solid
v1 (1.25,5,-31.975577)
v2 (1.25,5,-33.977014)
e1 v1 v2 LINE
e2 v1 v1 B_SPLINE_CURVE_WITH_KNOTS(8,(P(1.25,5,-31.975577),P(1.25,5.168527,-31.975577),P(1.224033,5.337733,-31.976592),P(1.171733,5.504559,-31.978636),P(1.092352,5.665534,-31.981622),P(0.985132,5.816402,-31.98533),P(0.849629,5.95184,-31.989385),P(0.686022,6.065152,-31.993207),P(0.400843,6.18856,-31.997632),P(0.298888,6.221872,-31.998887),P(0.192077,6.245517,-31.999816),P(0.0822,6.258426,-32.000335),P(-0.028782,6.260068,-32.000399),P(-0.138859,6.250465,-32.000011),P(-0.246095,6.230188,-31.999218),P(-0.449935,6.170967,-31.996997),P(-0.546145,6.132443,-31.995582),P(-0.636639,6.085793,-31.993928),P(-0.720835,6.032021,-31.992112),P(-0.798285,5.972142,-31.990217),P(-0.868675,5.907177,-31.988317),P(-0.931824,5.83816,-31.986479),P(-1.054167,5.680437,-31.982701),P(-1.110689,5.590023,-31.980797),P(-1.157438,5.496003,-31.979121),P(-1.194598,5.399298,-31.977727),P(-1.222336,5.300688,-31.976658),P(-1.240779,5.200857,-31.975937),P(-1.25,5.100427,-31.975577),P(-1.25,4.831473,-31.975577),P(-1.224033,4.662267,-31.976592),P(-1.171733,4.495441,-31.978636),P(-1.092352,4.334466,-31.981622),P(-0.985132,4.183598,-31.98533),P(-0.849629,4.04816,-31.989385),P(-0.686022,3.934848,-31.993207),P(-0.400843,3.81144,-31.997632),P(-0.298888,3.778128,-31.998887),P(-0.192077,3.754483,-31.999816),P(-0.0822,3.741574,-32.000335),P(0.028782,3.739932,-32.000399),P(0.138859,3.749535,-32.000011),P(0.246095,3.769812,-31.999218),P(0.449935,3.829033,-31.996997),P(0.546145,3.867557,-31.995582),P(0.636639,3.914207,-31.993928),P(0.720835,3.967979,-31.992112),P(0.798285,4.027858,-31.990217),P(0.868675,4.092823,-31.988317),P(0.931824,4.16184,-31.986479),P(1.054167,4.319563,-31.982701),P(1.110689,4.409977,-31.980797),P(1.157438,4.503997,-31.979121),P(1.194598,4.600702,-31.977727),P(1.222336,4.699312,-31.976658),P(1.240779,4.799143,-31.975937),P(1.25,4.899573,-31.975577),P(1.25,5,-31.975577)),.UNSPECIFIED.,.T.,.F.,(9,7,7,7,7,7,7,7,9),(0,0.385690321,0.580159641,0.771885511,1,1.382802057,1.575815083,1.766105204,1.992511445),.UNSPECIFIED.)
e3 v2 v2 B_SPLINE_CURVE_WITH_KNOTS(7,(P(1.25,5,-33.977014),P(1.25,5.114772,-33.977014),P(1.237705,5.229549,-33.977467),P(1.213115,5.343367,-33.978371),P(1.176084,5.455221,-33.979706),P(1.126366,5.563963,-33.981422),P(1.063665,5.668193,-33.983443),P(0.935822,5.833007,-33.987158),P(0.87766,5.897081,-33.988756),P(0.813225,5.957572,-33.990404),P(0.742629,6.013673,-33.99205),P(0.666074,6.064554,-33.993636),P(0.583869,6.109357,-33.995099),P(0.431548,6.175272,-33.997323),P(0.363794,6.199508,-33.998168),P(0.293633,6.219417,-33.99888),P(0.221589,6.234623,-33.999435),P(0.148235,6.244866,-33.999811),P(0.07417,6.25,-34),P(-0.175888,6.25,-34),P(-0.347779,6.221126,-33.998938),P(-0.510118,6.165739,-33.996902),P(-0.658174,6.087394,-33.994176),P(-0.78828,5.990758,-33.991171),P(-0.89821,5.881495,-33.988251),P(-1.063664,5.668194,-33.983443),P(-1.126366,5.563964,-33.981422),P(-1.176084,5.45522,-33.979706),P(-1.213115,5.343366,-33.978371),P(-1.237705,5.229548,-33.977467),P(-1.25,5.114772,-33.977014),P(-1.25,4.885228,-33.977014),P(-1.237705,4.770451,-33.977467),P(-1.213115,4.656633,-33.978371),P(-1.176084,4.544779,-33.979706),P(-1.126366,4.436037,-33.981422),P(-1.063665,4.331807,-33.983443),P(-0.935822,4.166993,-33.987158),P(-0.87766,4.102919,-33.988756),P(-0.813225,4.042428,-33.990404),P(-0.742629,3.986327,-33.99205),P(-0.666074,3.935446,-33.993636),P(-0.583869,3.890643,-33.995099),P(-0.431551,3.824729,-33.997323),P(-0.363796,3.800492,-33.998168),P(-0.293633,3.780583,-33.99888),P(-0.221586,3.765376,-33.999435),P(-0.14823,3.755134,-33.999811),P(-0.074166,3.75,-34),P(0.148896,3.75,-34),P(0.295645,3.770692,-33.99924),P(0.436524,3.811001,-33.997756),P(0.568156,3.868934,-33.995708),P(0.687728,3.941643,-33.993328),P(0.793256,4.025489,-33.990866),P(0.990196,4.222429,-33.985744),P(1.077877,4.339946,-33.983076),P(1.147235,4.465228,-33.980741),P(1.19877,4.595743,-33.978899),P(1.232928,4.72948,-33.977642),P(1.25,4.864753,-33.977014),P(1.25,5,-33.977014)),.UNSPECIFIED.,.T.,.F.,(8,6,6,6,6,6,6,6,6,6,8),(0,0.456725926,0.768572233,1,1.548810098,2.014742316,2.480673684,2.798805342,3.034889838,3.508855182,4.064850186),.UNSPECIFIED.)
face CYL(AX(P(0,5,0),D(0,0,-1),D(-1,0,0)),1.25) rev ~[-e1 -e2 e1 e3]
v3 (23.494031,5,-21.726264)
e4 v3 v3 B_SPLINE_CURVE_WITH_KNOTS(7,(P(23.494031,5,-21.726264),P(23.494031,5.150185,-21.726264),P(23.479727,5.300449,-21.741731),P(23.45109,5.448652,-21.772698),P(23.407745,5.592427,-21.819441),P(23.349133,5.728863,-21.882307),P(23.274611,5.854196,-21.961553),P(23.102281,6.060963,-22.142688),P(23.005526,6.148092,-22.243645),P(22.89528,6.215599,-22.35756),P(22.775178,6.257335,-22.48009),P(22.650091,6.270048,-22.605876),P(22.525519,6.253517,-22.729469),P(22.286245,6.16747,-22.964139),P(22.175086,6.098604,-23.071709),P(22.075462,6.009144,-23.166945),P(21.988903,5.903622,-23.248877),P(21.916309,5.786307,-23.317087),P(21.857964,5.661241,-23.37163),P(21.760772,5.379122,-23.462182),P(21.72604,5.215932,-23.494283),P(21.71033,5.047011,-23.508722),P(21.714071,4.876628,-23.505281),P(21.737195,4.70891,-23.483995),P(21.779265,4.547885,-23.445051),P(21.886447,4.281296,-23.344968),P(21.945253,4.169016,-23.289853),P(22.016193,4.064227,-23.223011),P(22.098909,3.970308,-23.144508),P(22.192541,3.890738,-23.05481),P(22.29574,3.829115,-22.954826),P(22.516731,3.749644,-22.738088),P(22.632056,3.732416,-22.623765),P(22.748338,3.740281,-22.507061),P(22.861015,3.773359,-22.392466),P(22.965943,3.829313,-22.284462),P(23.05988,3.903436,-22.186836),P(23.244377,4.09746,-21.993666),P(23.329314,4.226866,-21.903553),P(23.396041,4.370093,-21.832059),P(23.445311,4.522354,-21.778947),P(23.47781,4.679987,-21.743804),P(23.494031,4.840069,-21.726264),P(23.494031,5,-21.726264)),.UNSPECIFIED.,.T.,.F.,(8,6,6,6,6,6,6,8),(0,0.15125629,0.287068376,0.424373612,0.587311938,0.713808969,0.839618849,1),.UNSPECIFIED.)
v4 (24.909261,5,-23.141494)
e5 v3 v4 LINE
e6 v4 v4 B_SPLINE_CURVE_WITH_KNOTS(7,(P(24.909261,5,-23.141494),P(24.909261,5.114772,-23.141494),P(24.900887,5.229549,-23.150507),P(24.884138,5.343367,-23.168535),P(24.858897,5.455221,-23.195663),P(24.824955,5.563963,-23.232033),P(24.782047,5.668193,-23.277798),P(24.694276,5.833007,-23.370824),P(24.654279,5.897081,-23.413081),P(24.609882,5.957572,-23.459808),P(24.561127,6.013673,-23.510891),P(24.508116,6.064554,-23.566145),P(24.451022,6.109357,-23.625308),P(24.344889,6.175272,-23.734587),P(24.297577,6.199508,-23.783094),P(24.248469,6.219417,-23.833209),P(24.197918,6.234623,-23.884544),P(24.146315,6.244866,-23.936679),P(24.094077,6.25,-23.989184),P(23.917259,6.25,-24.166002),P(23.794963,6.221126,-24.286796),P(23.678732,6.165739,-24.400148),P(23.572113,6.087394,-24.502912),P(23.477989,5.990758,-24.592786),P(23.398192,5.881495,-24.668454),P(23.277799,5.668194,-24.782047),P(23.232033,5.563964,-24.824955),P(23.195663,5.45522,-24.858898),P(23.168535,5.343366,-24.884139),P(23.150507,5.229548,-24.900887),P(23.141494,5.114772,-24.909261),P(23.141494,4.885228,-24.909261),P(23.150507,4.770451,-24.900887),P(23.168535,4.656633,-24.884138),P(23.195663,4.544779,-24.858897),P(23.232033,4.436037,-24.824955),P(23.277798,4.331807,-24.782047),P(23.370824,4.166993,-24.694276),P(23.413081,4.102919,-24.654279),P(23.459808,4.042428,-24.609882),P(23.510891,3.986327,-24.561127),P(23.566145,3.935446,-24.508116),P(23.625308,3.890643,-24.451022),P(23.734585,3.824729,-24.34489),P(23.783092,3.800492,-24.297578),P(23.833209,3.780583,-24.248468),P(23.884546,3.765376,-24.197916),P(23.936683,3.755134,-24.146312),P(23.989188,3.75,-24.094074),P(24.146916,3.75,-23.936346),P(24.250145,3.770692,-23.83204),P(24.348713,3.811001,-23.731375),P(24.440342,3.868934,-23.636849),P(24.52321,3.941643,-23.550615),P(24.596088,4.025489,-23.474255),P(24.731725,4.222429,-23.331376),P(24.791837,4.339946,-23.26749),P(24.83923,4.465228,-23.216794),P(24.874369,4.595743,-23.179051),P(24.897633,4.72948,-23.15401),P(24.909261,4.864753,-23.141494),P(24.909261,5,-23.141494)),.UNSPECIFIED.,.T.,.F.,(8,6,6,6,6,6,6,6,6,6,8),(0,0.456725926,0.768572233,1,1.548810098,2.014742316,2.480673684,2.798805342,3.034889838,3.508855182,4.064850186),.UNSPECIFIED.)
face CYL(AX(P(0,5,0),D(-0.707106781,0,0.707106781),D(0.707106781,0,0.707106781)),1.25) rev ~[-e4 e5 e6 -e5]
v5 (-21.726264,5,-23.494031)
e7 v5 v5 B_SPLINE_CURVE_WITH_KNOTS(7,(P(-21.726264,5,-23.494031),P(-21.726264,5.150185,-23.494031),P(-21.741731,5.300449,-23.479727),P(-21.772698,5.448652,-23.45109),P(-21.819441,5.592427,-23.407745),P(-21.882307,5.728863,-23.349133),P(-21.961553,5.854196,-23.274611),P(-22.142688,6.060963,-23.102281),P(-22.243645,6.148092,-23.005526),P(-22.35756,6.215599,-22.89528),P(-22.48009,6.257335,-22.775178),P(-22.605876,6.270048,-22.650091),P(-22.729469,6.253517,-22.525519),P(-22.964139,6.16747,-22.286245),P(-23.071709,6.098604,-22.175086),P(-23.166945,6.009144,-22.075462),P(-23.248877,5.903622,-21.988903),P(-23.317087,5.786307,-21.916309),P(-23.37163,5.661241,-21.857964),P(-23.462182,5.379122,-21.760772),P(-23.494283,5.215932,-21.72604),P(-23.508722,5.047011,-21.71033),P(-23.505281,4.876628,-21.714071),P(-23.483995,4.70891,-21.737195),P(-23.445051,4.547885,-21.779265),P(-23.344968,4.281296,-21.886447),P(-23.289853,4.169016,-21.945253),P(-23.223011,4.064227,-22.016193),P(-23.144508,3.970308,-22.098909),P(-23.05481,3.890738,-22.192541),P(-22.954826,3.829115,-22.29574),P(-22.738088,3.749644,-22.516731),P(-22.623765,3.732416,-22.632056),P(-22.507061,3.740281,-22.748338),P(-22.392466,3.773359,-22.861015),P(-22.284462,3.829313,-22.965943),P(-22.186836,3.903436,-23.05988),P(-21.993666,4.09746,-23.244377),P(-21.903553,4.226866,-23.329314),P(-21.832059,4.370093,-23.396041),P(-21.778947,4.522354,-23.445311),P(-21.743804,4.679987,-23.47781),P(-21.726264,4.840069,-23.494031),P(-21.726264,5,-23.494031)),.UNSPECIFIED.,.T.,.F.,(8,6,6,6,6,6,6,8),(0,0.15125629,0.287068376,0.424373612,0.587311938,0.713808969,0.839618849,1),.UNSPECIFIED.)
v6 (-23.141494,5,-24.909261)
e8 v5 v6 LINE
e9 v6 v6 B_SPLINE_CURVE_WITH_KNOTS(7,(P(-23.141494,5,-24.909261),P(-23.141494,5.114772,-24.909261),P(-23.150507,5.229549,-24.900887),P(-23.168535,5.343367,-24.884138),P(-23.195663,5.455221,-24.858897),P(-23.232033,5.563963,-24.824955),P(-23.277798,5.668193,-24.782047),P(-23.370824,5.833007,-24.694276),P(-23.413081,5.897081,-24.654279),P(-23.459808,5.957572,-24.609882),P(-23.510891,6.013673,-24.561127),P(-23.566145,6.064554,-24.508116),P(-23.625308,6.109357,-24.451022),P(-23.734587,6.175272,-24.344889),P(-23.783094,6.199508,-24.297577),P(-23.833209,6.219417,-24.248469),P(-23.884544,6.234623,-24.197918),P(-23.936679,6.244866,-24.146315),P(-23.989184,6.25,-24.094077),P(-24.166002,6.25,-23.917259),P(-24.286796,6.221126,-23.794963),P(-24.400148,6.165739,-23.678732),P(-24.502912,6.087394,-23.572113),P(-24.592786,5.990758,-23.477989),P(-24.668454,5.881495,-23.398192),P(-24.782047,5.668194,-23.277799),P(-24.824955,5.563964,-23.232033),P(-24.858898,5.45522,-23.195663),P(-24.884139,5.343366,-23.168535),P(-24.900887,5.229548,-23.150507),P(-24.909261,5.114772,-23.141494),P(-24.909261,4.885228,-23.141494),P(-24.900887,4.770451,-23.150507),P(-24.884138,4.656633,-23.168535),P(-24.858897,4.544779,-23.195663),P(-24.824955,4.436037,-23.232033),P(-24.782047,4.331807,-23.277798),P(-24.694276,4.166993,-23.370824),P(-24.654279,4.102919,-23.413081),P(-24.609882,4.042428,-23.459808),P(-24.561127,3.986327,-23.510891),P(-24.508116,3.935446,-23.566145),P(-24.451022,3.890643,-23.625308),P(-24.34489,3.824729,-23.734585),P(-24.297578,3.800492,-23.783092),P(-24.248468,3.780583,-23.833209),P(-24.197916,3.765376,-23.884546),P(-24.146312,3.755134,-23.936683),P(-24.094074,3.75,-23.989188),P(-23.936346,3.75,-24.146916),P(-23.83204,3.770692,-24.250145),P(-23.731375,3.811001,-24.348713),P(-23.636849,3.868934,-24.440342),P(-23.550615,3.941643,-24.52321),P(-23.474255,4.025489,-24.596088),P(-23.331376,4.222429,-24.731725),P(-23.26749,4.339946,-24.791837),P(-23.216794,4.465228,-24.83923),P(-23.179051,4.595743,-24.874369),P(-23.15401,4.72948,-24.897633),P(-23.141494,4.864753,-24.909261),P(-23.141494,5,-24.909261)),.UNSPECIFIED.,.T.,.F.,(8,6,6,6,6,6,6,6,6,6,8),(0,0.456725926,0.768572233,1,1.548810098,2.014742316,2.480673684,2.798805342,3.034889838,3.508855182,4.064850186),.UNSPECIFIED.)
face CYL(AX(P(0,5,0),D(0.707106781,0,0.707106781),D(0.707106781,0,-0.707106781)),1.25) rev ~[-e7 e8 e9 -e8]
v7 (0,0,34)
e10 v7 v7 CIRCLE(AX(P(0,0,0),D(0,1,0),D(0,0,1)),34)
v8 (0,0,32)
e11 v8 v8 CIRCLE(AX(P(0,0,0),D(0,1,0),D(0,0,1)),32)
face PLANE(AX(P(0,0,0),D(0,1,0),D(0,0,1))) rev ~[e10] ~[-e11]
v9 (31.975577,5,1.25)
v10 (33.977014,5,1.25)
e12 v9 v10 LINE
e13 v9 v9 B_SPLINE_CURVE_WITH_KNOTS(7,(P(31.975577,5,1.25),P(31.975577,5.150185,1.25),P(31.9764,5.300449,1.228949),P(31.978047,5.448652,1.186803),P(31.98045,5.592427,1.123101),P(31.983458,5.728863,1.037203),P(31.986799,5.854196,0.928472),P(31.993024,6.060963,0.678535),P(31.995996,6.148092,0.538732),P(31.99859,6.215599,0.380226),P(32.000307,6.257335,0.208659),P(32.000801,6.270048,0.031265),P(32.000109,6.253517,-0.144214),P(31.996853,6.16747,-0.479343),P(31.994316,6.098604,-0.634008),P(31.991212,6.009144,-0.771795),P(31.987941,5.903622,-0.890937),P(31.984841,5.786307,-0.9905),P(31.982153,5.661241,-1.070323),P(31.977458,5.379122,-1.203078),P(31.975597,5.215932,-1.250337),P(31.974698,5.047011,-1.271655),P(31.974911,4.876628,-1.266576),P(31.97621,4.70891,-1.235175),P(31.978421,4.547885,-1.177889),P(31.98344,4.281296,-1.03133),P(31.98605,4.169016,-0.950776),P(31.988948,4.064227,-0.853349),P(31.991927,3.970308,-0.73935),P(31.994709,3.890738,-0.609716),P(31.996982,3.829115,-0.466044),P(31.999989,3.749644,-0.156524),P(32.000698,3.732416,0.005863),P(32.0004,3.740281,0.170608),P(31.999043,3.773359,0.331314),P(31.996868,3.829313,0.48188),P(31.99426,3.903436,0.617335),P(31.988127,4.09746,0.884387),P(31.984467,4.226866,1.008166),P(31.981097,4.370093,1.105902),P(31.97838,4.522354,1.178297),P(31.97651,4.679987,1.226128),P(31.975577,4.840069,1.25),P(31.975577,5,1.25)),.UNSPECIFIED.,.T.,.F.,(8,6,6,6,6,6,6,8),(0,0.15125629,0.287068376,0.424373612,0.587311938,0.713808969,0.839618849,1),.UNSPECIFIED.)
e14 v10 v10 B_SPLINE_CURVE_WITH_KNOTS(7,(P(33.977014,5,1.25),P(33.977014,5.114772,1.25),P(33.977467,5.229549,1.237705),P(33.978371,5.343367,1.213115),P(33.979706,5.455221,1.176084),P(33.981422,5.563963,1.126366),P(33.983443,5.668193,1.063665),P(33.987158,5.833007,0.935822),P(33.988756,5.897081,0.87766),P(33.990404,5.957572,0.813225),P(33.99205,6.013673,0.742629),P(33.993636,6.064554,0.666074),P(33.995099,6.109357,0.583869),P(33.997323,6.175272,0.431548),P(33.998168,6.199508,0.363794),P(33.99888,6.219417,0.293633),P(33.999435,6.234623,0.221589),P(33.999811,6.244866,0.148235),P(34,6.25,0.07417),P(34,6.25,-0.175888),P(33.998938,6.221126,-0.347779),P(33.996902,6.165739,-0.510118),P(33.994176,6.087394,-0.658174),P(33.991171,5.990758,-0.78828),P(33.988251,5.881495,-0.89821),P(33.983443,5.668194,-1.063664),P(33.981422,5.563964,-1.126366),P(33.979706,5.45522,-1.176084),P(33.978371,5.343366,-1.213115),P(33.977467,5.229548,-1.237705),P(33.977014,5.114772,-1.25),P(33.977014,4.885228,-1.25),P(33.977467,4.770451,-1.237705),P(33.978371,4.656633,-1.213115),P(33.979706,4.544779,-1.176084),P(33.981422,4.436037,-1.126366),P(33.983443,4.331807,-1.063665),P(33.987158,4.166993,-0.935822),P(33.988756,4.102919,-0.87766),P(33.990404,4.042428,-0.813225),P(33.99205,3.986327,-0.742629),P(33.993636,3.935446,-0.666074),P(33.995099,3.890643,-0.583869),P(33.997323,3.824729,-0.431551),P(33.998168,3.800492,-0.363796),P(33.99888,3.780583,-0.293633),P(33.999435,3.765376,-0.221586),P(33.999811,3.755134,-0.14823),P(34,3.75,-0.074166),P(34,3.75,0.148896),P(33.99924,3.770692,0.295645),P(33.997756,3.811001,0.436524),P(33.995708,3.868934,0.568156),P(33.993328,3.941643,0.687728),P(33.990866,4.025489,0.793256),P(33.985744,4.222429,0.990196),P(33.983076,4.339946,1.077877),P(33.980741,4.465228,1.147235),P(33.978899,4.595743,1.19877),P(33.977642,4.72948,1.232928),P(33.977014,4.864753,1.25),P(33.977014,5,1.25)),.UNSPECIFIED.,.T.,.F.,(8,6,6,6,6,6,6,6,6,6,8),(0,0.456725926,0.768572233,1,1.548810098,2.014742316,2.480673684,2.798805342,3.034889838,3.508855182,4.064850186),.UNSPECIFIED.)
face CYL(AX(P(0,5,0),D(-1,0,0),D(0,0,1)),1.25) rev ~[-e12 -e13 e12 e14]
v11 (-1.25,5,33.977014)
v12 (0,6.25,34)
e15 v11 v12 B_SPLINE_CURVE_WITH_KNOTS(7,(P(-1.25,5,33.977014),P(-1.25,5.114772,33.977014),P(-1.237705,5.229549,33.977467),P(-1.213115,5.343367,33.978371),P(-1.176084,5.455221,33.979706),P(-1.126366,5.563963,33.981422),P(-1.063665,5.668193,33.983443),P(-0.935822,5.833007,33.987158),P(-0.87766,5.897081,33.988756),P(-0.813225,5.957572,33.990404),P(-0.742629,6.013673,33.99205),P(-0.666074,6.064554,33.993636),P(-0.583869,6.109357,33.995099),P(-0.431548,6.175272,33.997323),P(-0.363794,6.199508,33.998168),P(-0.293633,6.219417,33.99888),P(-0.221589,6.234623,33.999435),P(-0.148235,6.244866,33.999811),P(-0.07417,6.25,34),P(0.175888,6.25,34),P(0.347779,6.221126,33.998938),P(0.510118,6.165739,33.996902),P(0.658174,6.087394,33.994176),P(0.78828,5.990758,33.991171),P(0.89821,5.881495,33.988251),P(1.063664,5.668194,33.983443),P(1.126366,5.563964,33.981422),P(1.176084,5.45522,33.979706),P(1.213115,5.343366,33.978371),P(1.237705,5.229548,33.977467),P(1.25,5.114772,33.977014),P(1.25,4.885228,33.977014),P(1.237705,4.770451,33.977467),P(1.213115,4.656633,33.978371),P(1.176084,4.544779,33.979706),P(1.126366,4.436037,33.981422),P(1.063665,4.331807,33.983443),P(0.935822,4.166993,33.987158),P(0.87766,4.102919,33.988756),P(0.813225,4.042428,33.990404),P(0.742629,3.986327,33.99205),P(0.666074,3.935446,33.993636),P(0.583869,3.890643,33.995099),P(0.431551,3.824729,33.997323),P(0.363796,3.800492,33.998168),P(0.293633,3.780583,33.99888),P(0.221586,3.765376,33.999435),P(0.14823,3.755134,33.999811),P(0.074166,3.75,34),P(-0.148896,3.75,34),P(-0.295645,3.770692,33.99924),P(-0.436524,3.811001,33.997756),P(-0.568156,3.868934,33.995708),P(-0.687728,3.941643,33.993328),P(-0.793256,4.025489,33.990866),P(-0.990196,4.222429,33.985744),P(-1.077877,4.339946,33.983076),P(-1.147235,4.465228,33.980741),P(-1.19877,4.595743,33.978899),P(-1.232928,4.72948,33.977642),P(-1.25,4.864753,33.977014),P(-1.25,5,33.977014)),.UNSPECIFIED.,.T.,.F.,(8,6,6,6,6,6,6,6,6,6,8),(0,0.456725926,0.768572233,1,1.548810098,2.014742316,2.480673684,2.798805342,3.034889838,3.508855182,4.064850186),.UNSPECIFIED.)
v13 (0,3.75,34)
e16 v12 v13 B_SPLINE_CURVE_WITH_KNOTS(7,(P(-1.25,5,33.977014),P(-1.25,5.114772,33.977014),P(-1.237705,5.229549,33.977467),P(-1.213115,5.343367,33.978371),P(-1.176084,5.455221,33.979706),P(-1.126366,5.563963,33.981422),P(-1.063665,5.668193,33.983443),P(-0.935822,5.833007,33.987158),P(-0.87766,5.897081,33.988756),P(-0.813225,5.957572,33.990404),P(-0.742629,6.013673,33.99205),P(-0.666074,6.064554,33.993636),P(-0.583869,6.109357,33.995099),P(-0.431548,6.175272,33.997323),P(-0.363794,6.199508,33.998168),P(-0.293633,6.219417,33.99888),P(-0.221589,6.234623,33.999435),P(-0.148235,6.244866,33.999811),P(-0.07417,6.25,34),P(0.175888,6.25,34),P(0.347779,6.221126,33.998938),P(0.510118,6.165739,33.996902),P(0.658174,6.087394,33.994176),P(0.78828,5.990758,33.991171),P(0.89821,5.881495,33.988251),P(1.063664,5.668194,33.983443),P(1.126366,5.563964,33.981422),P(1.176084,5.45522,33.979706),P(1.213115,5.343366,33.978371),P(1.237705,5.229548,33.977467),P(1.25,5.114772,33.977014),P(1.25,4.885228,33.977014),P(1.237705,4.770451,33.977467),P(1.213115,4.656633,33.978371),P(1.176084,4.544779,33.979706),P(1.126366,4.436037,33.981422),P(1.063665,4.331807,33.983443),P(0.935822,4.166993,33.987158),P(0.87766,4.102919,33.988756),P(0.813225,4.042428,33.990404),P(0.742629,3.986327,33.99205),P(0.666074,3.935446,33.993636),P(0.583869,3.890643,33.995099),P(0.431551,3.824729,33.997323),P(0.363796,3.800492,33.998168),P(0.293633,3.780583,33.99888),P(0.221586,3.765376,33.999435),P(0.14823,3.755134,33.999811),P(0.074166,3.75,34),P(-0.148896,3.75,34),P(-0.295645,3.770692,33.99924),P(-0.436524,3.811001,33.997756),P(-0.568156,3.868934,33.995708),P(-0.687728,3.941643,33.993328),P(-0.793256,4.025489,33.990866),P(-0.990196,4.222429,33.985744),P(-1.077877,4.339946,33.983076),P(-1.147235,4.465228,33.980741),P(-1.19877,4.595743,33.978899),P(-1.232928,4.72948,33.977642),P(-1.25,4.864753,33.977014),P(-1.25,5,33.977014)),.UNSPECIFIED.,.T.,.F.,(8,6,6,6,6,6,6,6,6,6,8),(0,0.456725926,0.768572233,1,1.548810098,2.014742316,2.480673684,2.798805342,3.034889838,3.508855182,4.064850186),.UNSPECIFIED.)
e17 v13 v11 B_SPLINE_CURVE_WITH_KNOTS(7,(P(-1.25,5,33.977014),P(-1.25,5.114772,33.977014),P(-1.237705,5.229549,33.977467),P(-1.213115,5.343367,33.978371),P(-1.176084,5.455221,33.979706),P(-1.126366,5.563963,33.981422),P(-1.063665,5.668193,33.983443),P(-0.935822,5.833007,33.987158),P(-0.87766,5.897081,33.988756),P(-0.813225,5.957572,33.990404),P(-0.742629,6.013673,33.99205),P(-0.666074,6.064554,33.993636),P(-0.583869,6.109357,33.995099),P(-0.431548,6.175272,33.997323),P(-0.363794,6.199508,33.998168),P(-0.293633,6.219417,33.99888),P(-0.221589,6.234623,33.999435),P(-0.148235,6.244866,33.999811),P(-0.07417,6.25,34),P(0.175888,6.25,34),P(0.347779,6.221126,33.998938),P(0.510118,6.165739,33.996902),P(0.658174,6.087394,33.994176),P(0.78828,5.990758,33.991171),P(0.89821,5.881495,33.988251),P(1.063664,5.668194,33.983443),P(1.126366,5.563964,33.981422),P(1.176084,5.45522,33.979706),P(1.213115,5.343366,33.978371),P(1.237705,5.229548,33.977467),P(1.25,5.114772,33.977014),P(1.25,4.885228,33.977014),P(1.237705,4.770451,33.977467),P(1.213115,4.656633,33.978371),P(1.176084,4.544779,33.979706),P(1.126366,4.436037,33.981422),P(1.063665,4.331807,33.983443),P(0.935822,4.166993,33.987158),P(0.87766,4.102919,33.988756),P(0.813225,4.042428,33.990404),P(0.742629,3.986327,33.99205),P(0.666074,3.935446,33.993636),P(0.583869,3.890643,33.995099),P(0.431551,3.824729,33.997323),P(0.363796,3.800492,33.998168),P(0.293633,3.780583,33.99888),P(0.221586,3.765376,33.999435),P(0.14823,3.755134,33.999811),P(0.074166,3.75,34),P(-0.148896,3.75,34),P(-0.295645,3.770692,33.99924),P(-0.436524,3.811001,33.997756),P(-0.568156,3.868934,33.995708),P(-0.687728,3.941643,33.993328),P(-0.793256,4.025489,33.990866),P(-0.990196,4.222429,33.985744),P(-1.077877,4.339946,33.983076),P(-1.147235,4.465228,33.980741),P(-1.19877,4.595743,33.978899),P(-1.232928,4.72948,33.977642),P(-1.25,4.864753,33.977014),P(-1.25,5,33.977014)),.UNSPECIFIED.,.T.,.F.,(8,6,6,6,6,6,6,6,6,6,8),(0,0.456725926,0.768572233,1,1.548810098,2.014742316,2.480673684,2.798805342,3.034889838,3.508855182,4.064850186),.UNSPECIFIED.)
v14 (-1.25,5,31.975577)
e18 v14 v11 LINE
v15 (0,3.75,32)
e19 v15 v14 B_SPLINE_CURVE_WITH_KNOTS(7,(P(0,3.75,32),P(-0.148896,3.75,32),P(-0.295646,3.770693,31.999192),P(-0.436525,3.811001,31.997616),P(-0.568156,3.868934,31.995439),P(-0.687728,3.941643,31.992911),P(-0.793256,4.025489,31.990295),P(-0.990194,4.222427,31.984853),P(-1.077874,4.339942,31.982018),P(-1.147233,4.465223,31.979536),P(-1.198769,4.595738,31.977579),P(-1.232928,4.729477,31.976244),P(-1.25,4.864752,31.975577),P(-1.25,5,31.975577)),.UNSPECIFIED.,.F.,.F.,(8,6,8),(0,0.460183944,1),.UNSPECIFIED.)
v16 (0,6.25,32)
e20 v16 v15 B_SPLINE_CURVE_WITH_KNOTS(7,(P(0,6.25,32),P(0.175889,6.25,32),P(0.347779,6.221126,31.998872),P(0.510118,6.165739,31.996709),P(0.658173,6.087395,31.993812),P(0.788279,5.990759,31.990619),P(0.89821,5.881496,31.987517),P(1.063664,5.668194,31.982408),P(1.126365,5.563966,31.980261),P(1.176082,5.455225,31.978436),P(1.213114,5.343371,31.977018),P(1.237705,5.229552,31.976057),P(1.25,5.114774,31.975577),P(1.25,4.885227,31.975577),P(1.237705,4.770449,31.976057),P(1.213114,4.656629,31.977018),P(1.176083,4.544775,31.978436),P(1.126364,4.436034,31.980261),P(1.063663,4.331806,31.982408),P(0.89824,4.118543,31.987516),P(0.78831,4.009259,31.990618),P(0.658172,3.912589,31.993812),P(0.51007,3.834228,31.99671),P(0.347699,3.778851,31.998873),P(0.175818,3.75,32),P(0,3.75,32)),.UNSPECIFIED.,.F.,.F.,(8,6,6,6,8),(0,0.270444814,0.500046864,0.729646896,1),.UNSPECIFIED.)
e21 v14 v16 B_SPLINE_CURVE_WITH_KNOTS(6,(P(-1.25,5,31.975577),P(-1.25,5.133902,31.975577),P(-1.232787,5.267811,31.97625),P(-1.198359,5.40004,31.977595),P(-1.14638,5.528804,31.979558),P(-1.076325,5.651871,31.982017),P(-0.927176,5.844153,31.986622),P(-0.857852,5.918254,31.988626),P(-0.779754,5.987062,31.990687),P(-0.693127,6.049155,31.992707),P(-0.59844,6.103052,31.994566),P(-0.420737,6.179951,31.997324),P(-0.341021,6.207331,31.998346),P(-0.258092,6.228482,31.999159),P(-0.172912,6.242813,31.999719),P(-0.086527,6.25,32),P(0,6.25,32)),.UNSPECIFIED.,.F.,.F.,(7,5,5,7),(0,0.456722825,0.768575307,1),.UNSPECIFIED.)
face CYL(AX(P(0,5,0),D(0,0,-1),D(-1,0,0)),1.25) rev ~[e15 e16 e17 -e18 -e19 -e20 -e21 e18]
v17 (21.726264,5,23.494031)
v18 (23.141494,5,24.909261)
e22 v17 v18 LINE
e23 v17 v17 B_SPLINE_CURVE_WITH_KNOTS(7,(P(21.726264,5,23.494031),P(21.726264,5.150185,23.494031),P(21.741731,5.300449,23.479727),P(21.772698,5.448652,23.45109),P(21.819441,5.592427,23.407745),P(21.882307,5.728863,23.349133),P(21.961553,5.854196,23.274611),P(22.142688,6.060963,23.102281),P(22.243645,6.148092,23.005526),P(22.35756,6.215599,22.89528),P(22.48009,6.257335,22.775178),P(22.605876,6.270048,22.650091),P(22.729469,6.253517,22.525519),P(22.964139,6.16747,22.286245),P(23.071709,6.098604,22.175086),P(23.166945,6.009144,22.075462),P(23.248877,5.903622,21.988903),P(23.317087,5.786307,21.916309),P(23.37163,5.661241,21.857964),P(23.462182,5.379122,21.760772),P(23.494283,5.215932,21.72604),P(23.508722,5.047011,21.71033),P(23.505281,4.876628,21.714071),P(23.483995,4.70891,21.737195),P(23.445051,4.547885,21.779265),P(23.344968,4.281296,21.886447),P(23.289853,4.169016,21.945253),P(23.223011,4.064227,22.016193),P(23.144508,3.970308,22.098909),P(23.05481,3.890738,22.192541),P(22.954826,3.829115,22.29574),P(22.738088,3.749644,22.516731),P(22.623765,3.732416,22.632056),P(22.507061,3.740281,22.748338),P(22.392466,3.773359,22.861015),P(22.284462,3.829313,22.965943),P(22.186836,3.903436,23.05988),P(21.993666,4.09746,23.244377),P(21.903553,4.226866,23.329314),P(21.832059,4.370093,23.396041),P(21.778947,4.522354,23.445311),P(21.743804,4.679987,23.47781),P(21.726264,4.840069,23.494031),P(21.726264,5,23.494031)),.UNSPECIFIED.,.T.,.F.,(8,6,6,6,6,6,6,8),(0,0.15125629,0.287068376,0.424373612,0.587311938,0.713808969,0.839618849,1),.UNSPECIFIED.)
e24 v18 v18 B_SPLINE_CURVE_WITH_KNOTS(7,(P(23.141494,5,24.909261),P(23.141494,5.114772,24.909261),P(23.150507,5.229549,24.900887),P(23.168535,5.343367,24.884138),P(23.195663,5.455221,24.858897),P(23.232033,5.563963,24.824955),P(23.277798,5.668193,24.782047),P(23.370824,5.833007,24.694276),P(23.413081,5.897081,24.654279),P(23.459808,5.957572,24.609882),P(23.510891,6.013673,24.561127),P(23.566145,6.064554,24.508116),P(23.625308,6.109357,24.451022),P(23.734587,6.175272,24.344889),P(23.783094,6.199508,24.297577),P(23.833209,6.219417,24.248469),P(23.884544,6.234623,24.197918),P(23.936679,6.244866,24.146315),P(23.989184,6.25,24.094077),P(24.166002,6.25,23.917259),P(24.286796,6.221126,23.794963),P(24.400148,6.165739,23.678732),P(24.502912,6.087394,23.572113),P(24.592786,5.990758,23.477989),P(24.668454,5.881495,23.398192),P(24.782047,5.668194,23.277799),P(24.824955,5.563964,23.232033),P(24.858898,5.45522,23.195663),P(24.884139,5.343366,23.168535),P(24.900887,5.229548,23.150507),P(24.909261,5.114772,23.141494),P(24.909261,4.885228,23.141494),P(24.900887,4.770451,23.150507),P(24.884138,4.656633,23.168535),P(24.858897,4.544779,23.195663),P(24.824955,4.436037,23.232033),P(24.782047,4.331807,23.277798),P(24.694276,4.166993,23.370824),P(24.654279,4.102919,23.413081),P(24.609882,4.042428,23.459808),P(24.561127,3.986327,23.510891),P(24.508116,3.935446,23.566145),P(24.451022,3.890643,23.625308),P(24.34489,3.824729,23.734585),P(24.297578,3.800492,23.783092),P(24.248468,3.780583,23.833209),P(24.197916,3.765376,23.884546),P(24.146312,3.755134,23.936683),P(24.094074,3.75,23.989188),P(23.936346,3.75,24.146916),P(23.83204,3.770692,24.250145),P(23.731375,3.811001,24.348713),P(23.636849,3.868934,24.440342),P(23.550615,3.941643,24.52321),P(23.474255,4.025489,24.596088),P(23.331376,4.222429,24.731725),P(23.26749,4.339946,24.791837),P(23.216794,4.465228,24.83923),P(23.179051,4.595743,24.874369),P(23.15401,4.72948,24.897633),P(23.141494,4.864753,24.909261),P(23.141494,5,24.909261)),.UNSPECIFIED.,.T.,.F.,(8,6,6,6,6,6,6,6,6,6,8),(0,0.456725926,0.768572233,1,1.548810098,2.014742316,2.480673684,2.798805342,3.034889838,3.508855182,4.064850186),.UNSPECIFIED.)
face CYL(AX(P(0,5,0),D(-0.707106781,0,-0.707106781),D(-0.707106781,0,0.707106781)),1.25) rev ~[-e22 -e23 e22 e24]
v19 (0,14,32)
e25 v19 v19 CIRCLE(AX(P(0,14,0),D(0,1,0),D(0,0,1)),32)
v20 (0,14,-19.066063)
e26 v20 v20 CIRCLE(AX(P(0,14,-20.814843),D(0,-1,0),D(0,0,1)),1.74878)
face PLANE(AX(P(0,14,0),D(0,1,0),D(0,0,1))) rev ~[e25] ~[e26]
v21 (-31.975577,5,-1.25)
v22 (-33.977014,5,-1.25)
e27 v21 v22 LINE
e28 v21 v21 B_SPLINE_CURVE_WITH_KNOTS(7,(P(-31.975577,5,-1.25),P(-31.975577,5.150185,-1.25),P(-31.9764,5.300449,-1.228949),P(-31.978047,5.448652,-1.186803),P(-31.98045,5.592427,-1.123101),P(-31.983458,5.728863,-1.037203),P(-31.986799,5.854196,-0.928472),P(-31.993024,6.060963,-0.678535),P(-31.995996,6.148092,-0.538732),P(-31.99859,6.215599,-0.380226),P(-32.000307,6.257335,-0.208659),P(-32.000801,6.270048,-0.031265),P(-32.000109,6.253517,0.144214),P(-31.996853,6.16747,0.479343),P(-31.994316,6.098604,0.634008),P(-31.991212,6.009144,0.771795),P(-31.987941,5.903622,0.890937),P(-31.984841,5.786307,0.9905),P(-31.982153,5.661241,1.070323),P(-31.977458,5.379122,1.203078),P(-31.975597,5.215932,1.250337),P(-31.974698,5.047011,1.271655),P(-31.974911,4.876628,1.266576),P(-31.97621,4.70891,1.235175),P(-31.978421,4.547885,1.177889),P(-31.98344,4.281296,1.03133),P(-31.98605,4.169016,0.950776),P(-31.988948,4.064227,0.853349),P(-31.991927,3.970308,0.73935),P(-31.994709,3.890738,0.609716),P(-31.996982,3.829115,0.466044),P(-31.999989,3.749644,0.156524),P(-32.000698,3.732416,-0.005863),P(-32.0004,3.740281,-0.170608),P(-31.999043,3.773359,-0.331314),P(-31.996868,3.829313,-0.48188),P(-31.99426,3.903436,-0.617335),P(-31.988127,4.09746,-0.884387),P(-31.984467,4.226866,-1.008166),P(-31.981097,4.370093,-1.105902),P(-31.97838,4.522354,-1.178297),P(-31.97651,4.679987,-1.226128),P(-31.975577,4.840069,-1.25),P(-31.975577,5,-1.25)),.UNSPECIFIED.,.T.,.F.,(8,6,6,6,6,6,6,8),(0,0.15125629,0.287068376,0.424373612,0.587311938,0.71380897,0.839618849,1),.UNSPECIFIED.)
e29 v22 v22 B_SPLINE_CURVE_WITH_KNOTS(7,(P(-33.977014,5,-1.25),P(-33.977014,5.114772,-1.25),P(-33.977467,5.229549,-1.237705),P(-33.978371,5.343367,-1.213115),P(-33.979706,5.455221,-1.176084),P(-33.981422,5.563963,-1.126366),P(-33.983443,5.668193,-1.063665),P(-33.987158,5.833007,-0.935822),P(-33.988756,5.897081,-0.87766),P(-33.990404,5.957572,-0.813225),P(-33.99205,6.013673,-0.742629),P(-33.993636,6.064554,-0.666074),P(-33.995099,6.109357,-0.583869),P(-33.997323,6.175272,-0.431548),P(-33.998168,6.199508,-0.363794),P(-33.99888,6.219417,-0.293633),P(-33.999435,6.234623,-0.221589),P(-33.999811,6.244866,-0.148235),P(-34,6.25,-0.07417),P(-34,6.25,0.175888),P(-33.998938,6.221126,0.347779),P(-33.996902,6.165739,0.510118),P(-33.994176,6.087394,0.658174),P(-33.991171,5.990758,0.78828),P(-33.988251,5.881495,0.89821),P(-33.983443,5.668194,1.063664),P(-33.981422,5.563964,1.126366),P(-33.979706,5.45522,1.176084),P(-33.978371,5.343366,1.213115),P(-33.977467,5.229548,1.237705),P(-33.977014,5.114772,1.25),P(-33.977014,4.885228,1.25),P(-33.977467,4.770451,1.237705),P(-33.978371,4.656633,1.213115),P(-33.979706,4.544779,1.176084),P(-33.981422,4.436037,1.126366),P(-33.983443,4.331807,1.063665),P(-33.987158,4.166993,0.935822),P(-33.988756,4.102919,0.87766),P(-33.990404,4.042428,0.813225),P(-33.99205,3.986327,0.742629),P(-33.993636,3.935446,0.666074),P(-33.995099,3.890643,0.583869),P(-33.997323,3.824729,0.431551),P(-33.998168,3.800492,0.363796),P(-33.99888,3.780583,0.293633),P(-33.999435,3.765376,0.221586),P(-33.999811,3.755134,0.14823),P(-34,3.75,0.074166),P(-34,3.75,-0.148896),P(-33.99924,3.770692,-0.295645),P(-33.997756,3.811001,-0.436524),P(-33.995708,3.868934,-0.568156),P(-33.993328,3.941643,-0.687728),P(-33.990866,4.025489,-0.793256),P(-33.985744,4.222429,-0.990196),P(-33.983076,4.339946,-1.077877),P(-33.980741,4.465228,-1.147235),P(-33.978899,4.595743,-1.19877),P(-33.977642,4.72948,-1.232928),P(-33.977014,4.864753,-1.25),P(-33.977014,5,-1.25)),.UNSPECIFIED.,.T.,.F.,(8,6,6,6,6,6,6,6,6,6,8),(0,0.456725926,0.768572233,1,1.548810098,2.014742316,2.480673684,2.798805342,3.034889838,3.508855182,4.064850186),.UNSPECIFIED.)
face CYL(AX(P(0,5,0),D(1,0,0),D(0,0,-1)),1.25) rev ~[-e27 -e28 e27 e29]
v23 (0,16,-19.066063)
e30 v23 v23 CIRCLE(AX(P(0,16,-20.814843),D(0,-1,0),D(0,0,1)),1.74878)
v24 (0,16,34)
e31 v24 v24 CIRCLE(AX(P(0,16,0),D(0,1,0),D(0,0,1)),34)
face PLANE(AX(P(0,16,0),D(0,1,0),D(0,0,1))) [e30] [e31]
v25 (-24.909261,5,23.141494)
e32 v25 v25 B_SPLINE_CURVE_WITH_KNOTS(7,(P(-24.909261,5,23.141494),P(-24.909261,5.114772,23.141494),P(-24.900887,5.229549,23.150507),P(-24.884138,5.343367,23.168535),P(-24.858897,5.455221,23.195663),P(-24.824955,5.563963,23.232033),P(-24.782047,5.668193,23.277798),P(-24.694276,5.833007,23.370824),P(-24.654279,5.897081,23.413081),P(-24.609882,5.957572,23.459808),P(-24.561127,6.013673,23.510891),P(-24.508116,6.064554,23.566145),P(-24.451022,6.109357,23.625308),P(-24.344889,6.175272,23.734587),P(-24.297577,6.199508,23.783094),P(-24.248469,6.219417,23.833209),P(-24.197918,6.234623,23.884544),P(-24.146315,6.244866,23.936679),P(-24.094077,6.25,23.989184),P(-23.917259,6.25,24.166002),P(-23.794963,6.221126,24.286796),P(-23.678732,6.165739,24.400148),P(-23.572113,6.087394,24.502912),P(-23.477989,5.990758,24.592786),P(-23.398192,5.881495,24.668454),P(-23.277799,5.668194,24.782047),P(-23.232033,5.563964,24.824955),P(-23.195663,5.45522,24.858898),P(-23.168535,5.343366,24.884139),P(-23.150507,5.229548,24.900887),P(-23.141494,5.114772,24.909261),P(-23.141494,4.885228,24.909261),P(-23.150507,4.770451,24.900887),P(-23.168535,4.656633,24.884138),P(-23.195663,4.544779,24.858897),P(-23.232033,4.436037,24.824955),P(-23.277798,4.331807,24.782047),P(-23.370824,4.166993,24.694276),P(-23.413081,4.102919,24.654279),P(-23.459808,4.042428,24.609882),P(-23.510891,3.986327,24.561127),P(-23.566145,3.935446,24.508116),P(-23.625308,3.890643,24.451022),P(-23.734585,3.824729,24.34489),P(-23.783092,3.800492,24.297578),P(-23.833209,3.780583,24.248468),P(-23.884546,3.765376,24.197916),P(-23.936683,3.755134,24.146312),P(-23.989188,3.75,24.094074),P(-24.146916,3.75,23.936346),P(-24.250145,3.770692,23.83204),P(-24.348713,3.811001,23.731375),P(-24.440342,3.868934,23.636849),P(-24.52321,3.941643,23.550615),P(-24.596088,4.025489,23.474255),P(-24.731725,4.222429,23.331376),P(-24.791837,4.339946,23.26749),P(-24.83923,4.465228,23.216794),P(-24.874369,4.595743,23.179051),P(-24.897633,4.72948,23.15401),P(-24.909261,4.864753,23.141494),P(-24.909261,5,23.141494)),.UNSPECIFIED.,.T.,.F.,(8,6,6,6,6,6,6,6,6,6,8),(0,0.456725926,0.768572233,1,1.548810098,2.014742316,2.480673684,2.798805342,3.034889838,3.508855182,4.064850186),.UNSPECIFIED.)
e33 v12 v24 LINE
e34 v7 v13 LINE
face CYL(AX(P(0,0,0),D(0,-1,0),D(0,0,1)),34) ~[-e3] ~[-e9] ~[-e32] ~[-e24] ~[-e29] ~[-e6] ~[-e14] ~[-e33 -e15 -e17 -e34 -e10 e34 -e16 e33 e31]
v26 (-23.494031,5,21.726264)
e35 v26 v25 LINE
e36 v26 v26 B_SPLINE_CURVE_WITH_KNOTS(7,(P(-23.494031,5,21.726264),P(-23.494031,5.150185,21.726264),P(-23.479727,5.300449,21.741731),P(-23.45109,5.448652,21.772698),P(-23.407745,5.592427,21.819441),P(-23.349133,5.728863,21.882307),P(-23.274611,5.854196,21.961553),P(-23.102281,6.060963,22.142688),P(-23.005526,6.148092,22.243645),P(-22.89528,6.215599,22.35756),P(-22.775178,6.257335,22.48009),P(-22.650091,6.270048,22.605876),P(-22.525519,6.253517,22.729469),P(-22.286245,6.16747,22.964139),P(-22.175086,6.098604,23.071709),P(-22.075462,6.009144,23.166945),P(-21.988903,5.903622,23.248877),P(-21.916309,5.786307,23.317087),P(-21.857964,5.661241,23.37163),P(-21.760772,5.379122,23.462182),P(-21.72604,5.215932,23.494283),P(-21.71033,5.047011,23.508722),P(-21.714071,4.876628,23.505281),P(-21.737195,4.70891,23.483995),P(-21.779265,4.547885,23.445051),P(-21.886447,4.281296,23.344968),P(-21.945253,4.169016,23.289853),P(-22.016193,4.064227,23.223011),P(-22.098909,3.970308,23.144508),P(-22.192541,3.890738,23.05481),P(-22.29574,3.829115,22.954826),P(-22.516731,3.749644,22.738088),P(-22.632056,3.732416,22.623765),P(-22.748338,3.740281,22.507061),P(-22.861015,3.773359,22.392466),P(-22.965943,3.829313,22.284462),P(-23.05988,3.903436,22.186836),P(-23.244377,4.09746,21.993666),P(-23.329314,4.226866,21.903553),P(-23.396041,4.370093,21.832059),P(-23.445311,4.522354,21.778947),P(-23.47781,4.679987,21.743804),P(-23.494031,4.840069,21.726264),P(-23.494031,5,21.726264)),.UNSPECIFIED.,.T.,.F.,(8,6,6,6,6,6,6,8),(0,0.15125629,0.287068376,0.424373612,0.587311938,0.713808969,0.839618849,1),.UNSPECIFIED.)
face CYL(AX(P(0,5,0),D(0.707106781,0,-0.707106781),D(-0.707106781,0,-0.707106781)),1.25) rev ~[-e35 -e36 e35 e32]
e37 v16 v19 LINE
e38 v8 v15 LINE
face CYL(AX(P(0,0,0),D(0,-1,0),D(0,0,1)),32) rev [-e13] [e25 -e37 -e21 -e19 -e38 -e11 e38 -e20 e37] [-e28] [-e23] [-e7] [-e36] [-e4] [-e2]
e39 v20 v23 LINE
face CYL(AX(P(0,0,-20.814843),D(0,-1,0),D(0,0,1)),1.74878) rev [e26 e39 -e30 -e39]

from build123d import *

# Parameters (mm, degrees)
SKETCH_1_R               = 34
EXTRUDE_1_DEPTH          = 16
CUT_EXTRUDE_1_REACH      = 52.675
CUT_EXTRUDE_1_END_RADIUS = 34
SKETCH_2_R               = 1.25
PATTERN_CIRCULAR_1_COUNT = 8
SKETCH_3_R               = 32
CUT_EXTRUDE_2_DEPTH      = 14
SKETCH_5_R               = 1.748779673
CUT_EXTRUDE_3_DEPTH      = 51.675438003


with BuildPart() as part:
    # 草图1 → 凸台-拉伸1 (new body)
    with BuildSketch(Plane(origin=(0, 0, 0), x_dir=(1, 0, 0), z_dir=(0, 1, 0))):
        with Locations(Location((0, 0, 0), (0, 0, 270))):
            Circle(SKETCH_1_R)
    extrude(amount=EXTRUDE_1_DEPTH)

    # 切除-拉伸1: up to this cylinder (the profile starts inside it)
    cut_extrude_1_end = Plane(origin=(0, 5, 0), z_dir=(0, -1, 0)) * Cylinder(CUT_EXTRUDE_1_END_RADIUS, 174.35, mode=Mode.PRIVATE)
    # 草图2 → 切除-拉伸1 (cut, up to the surface)
    with BuildSketch(Plane.XY, mode=Mode.PRIVATE) as cut_extrude_1_sk1:
        with Locations((0, 5)):
            Circle(SKETCH_2_R)
    cut_extrude_1_tool1 = extrude(cut_extrude_1_sk1.sketch, amount=-CUT_EXTRUDE_1_REACH, mode=Mode.PRIVATE) & cut_extrude_1_end
    cut_extrude_1 = cut_extrude_1_tool1.solids().sort_by_distance((0, 5, 0))[0]
    add(cut_extrude_1, mode=Mode.SUBTRACT)

    # 阵列(圆周)1: 切除-拉伸1 ×8 about axis
    pattern_circular_1_axis = Axis((0, 16, 0), (0, 1, 0))
    for i in range(1, PATTERN_CIRCULAR_1_COUNT):
        add(cut_extrude_1.rotate(pattern_circular_1_axis, i * 360 / PATTERN_CIRCULAR_1_COUNT), mode=Mode.SUBTRACT)

    # 草图3 → 切除-拉伸2 (cut)
    with BuildSketch(Plane(origin=(0, 0, 0), x_dir=(1, 0, 0), z_dir=(0, 1, 0))):
        with Locations(Location((0, 0, 0), (0, 0, 270))):
            Circle(SKETCH_3_R)
    extrude(amount=CUT_EXTRUDE_2_DEPTH, mode=Mode.SUBTRACT)

    # 草图5 → 切除-拉伸3 (cut, through all)
    with BuildSketch(Plane(origin=(0, 0, 0), x_dir=(1, 0, 0), z_dir=(0, 1, 0))):
        with Locations(Location((0, 20.814842856, 0), (0, 0, 270))):
            Circle(SKETCH_5_R)
    extrude(amount=CUT_EXTRUDE_3_DEPTH, mode=Mode.SUBTRACT)


solid = part.part
